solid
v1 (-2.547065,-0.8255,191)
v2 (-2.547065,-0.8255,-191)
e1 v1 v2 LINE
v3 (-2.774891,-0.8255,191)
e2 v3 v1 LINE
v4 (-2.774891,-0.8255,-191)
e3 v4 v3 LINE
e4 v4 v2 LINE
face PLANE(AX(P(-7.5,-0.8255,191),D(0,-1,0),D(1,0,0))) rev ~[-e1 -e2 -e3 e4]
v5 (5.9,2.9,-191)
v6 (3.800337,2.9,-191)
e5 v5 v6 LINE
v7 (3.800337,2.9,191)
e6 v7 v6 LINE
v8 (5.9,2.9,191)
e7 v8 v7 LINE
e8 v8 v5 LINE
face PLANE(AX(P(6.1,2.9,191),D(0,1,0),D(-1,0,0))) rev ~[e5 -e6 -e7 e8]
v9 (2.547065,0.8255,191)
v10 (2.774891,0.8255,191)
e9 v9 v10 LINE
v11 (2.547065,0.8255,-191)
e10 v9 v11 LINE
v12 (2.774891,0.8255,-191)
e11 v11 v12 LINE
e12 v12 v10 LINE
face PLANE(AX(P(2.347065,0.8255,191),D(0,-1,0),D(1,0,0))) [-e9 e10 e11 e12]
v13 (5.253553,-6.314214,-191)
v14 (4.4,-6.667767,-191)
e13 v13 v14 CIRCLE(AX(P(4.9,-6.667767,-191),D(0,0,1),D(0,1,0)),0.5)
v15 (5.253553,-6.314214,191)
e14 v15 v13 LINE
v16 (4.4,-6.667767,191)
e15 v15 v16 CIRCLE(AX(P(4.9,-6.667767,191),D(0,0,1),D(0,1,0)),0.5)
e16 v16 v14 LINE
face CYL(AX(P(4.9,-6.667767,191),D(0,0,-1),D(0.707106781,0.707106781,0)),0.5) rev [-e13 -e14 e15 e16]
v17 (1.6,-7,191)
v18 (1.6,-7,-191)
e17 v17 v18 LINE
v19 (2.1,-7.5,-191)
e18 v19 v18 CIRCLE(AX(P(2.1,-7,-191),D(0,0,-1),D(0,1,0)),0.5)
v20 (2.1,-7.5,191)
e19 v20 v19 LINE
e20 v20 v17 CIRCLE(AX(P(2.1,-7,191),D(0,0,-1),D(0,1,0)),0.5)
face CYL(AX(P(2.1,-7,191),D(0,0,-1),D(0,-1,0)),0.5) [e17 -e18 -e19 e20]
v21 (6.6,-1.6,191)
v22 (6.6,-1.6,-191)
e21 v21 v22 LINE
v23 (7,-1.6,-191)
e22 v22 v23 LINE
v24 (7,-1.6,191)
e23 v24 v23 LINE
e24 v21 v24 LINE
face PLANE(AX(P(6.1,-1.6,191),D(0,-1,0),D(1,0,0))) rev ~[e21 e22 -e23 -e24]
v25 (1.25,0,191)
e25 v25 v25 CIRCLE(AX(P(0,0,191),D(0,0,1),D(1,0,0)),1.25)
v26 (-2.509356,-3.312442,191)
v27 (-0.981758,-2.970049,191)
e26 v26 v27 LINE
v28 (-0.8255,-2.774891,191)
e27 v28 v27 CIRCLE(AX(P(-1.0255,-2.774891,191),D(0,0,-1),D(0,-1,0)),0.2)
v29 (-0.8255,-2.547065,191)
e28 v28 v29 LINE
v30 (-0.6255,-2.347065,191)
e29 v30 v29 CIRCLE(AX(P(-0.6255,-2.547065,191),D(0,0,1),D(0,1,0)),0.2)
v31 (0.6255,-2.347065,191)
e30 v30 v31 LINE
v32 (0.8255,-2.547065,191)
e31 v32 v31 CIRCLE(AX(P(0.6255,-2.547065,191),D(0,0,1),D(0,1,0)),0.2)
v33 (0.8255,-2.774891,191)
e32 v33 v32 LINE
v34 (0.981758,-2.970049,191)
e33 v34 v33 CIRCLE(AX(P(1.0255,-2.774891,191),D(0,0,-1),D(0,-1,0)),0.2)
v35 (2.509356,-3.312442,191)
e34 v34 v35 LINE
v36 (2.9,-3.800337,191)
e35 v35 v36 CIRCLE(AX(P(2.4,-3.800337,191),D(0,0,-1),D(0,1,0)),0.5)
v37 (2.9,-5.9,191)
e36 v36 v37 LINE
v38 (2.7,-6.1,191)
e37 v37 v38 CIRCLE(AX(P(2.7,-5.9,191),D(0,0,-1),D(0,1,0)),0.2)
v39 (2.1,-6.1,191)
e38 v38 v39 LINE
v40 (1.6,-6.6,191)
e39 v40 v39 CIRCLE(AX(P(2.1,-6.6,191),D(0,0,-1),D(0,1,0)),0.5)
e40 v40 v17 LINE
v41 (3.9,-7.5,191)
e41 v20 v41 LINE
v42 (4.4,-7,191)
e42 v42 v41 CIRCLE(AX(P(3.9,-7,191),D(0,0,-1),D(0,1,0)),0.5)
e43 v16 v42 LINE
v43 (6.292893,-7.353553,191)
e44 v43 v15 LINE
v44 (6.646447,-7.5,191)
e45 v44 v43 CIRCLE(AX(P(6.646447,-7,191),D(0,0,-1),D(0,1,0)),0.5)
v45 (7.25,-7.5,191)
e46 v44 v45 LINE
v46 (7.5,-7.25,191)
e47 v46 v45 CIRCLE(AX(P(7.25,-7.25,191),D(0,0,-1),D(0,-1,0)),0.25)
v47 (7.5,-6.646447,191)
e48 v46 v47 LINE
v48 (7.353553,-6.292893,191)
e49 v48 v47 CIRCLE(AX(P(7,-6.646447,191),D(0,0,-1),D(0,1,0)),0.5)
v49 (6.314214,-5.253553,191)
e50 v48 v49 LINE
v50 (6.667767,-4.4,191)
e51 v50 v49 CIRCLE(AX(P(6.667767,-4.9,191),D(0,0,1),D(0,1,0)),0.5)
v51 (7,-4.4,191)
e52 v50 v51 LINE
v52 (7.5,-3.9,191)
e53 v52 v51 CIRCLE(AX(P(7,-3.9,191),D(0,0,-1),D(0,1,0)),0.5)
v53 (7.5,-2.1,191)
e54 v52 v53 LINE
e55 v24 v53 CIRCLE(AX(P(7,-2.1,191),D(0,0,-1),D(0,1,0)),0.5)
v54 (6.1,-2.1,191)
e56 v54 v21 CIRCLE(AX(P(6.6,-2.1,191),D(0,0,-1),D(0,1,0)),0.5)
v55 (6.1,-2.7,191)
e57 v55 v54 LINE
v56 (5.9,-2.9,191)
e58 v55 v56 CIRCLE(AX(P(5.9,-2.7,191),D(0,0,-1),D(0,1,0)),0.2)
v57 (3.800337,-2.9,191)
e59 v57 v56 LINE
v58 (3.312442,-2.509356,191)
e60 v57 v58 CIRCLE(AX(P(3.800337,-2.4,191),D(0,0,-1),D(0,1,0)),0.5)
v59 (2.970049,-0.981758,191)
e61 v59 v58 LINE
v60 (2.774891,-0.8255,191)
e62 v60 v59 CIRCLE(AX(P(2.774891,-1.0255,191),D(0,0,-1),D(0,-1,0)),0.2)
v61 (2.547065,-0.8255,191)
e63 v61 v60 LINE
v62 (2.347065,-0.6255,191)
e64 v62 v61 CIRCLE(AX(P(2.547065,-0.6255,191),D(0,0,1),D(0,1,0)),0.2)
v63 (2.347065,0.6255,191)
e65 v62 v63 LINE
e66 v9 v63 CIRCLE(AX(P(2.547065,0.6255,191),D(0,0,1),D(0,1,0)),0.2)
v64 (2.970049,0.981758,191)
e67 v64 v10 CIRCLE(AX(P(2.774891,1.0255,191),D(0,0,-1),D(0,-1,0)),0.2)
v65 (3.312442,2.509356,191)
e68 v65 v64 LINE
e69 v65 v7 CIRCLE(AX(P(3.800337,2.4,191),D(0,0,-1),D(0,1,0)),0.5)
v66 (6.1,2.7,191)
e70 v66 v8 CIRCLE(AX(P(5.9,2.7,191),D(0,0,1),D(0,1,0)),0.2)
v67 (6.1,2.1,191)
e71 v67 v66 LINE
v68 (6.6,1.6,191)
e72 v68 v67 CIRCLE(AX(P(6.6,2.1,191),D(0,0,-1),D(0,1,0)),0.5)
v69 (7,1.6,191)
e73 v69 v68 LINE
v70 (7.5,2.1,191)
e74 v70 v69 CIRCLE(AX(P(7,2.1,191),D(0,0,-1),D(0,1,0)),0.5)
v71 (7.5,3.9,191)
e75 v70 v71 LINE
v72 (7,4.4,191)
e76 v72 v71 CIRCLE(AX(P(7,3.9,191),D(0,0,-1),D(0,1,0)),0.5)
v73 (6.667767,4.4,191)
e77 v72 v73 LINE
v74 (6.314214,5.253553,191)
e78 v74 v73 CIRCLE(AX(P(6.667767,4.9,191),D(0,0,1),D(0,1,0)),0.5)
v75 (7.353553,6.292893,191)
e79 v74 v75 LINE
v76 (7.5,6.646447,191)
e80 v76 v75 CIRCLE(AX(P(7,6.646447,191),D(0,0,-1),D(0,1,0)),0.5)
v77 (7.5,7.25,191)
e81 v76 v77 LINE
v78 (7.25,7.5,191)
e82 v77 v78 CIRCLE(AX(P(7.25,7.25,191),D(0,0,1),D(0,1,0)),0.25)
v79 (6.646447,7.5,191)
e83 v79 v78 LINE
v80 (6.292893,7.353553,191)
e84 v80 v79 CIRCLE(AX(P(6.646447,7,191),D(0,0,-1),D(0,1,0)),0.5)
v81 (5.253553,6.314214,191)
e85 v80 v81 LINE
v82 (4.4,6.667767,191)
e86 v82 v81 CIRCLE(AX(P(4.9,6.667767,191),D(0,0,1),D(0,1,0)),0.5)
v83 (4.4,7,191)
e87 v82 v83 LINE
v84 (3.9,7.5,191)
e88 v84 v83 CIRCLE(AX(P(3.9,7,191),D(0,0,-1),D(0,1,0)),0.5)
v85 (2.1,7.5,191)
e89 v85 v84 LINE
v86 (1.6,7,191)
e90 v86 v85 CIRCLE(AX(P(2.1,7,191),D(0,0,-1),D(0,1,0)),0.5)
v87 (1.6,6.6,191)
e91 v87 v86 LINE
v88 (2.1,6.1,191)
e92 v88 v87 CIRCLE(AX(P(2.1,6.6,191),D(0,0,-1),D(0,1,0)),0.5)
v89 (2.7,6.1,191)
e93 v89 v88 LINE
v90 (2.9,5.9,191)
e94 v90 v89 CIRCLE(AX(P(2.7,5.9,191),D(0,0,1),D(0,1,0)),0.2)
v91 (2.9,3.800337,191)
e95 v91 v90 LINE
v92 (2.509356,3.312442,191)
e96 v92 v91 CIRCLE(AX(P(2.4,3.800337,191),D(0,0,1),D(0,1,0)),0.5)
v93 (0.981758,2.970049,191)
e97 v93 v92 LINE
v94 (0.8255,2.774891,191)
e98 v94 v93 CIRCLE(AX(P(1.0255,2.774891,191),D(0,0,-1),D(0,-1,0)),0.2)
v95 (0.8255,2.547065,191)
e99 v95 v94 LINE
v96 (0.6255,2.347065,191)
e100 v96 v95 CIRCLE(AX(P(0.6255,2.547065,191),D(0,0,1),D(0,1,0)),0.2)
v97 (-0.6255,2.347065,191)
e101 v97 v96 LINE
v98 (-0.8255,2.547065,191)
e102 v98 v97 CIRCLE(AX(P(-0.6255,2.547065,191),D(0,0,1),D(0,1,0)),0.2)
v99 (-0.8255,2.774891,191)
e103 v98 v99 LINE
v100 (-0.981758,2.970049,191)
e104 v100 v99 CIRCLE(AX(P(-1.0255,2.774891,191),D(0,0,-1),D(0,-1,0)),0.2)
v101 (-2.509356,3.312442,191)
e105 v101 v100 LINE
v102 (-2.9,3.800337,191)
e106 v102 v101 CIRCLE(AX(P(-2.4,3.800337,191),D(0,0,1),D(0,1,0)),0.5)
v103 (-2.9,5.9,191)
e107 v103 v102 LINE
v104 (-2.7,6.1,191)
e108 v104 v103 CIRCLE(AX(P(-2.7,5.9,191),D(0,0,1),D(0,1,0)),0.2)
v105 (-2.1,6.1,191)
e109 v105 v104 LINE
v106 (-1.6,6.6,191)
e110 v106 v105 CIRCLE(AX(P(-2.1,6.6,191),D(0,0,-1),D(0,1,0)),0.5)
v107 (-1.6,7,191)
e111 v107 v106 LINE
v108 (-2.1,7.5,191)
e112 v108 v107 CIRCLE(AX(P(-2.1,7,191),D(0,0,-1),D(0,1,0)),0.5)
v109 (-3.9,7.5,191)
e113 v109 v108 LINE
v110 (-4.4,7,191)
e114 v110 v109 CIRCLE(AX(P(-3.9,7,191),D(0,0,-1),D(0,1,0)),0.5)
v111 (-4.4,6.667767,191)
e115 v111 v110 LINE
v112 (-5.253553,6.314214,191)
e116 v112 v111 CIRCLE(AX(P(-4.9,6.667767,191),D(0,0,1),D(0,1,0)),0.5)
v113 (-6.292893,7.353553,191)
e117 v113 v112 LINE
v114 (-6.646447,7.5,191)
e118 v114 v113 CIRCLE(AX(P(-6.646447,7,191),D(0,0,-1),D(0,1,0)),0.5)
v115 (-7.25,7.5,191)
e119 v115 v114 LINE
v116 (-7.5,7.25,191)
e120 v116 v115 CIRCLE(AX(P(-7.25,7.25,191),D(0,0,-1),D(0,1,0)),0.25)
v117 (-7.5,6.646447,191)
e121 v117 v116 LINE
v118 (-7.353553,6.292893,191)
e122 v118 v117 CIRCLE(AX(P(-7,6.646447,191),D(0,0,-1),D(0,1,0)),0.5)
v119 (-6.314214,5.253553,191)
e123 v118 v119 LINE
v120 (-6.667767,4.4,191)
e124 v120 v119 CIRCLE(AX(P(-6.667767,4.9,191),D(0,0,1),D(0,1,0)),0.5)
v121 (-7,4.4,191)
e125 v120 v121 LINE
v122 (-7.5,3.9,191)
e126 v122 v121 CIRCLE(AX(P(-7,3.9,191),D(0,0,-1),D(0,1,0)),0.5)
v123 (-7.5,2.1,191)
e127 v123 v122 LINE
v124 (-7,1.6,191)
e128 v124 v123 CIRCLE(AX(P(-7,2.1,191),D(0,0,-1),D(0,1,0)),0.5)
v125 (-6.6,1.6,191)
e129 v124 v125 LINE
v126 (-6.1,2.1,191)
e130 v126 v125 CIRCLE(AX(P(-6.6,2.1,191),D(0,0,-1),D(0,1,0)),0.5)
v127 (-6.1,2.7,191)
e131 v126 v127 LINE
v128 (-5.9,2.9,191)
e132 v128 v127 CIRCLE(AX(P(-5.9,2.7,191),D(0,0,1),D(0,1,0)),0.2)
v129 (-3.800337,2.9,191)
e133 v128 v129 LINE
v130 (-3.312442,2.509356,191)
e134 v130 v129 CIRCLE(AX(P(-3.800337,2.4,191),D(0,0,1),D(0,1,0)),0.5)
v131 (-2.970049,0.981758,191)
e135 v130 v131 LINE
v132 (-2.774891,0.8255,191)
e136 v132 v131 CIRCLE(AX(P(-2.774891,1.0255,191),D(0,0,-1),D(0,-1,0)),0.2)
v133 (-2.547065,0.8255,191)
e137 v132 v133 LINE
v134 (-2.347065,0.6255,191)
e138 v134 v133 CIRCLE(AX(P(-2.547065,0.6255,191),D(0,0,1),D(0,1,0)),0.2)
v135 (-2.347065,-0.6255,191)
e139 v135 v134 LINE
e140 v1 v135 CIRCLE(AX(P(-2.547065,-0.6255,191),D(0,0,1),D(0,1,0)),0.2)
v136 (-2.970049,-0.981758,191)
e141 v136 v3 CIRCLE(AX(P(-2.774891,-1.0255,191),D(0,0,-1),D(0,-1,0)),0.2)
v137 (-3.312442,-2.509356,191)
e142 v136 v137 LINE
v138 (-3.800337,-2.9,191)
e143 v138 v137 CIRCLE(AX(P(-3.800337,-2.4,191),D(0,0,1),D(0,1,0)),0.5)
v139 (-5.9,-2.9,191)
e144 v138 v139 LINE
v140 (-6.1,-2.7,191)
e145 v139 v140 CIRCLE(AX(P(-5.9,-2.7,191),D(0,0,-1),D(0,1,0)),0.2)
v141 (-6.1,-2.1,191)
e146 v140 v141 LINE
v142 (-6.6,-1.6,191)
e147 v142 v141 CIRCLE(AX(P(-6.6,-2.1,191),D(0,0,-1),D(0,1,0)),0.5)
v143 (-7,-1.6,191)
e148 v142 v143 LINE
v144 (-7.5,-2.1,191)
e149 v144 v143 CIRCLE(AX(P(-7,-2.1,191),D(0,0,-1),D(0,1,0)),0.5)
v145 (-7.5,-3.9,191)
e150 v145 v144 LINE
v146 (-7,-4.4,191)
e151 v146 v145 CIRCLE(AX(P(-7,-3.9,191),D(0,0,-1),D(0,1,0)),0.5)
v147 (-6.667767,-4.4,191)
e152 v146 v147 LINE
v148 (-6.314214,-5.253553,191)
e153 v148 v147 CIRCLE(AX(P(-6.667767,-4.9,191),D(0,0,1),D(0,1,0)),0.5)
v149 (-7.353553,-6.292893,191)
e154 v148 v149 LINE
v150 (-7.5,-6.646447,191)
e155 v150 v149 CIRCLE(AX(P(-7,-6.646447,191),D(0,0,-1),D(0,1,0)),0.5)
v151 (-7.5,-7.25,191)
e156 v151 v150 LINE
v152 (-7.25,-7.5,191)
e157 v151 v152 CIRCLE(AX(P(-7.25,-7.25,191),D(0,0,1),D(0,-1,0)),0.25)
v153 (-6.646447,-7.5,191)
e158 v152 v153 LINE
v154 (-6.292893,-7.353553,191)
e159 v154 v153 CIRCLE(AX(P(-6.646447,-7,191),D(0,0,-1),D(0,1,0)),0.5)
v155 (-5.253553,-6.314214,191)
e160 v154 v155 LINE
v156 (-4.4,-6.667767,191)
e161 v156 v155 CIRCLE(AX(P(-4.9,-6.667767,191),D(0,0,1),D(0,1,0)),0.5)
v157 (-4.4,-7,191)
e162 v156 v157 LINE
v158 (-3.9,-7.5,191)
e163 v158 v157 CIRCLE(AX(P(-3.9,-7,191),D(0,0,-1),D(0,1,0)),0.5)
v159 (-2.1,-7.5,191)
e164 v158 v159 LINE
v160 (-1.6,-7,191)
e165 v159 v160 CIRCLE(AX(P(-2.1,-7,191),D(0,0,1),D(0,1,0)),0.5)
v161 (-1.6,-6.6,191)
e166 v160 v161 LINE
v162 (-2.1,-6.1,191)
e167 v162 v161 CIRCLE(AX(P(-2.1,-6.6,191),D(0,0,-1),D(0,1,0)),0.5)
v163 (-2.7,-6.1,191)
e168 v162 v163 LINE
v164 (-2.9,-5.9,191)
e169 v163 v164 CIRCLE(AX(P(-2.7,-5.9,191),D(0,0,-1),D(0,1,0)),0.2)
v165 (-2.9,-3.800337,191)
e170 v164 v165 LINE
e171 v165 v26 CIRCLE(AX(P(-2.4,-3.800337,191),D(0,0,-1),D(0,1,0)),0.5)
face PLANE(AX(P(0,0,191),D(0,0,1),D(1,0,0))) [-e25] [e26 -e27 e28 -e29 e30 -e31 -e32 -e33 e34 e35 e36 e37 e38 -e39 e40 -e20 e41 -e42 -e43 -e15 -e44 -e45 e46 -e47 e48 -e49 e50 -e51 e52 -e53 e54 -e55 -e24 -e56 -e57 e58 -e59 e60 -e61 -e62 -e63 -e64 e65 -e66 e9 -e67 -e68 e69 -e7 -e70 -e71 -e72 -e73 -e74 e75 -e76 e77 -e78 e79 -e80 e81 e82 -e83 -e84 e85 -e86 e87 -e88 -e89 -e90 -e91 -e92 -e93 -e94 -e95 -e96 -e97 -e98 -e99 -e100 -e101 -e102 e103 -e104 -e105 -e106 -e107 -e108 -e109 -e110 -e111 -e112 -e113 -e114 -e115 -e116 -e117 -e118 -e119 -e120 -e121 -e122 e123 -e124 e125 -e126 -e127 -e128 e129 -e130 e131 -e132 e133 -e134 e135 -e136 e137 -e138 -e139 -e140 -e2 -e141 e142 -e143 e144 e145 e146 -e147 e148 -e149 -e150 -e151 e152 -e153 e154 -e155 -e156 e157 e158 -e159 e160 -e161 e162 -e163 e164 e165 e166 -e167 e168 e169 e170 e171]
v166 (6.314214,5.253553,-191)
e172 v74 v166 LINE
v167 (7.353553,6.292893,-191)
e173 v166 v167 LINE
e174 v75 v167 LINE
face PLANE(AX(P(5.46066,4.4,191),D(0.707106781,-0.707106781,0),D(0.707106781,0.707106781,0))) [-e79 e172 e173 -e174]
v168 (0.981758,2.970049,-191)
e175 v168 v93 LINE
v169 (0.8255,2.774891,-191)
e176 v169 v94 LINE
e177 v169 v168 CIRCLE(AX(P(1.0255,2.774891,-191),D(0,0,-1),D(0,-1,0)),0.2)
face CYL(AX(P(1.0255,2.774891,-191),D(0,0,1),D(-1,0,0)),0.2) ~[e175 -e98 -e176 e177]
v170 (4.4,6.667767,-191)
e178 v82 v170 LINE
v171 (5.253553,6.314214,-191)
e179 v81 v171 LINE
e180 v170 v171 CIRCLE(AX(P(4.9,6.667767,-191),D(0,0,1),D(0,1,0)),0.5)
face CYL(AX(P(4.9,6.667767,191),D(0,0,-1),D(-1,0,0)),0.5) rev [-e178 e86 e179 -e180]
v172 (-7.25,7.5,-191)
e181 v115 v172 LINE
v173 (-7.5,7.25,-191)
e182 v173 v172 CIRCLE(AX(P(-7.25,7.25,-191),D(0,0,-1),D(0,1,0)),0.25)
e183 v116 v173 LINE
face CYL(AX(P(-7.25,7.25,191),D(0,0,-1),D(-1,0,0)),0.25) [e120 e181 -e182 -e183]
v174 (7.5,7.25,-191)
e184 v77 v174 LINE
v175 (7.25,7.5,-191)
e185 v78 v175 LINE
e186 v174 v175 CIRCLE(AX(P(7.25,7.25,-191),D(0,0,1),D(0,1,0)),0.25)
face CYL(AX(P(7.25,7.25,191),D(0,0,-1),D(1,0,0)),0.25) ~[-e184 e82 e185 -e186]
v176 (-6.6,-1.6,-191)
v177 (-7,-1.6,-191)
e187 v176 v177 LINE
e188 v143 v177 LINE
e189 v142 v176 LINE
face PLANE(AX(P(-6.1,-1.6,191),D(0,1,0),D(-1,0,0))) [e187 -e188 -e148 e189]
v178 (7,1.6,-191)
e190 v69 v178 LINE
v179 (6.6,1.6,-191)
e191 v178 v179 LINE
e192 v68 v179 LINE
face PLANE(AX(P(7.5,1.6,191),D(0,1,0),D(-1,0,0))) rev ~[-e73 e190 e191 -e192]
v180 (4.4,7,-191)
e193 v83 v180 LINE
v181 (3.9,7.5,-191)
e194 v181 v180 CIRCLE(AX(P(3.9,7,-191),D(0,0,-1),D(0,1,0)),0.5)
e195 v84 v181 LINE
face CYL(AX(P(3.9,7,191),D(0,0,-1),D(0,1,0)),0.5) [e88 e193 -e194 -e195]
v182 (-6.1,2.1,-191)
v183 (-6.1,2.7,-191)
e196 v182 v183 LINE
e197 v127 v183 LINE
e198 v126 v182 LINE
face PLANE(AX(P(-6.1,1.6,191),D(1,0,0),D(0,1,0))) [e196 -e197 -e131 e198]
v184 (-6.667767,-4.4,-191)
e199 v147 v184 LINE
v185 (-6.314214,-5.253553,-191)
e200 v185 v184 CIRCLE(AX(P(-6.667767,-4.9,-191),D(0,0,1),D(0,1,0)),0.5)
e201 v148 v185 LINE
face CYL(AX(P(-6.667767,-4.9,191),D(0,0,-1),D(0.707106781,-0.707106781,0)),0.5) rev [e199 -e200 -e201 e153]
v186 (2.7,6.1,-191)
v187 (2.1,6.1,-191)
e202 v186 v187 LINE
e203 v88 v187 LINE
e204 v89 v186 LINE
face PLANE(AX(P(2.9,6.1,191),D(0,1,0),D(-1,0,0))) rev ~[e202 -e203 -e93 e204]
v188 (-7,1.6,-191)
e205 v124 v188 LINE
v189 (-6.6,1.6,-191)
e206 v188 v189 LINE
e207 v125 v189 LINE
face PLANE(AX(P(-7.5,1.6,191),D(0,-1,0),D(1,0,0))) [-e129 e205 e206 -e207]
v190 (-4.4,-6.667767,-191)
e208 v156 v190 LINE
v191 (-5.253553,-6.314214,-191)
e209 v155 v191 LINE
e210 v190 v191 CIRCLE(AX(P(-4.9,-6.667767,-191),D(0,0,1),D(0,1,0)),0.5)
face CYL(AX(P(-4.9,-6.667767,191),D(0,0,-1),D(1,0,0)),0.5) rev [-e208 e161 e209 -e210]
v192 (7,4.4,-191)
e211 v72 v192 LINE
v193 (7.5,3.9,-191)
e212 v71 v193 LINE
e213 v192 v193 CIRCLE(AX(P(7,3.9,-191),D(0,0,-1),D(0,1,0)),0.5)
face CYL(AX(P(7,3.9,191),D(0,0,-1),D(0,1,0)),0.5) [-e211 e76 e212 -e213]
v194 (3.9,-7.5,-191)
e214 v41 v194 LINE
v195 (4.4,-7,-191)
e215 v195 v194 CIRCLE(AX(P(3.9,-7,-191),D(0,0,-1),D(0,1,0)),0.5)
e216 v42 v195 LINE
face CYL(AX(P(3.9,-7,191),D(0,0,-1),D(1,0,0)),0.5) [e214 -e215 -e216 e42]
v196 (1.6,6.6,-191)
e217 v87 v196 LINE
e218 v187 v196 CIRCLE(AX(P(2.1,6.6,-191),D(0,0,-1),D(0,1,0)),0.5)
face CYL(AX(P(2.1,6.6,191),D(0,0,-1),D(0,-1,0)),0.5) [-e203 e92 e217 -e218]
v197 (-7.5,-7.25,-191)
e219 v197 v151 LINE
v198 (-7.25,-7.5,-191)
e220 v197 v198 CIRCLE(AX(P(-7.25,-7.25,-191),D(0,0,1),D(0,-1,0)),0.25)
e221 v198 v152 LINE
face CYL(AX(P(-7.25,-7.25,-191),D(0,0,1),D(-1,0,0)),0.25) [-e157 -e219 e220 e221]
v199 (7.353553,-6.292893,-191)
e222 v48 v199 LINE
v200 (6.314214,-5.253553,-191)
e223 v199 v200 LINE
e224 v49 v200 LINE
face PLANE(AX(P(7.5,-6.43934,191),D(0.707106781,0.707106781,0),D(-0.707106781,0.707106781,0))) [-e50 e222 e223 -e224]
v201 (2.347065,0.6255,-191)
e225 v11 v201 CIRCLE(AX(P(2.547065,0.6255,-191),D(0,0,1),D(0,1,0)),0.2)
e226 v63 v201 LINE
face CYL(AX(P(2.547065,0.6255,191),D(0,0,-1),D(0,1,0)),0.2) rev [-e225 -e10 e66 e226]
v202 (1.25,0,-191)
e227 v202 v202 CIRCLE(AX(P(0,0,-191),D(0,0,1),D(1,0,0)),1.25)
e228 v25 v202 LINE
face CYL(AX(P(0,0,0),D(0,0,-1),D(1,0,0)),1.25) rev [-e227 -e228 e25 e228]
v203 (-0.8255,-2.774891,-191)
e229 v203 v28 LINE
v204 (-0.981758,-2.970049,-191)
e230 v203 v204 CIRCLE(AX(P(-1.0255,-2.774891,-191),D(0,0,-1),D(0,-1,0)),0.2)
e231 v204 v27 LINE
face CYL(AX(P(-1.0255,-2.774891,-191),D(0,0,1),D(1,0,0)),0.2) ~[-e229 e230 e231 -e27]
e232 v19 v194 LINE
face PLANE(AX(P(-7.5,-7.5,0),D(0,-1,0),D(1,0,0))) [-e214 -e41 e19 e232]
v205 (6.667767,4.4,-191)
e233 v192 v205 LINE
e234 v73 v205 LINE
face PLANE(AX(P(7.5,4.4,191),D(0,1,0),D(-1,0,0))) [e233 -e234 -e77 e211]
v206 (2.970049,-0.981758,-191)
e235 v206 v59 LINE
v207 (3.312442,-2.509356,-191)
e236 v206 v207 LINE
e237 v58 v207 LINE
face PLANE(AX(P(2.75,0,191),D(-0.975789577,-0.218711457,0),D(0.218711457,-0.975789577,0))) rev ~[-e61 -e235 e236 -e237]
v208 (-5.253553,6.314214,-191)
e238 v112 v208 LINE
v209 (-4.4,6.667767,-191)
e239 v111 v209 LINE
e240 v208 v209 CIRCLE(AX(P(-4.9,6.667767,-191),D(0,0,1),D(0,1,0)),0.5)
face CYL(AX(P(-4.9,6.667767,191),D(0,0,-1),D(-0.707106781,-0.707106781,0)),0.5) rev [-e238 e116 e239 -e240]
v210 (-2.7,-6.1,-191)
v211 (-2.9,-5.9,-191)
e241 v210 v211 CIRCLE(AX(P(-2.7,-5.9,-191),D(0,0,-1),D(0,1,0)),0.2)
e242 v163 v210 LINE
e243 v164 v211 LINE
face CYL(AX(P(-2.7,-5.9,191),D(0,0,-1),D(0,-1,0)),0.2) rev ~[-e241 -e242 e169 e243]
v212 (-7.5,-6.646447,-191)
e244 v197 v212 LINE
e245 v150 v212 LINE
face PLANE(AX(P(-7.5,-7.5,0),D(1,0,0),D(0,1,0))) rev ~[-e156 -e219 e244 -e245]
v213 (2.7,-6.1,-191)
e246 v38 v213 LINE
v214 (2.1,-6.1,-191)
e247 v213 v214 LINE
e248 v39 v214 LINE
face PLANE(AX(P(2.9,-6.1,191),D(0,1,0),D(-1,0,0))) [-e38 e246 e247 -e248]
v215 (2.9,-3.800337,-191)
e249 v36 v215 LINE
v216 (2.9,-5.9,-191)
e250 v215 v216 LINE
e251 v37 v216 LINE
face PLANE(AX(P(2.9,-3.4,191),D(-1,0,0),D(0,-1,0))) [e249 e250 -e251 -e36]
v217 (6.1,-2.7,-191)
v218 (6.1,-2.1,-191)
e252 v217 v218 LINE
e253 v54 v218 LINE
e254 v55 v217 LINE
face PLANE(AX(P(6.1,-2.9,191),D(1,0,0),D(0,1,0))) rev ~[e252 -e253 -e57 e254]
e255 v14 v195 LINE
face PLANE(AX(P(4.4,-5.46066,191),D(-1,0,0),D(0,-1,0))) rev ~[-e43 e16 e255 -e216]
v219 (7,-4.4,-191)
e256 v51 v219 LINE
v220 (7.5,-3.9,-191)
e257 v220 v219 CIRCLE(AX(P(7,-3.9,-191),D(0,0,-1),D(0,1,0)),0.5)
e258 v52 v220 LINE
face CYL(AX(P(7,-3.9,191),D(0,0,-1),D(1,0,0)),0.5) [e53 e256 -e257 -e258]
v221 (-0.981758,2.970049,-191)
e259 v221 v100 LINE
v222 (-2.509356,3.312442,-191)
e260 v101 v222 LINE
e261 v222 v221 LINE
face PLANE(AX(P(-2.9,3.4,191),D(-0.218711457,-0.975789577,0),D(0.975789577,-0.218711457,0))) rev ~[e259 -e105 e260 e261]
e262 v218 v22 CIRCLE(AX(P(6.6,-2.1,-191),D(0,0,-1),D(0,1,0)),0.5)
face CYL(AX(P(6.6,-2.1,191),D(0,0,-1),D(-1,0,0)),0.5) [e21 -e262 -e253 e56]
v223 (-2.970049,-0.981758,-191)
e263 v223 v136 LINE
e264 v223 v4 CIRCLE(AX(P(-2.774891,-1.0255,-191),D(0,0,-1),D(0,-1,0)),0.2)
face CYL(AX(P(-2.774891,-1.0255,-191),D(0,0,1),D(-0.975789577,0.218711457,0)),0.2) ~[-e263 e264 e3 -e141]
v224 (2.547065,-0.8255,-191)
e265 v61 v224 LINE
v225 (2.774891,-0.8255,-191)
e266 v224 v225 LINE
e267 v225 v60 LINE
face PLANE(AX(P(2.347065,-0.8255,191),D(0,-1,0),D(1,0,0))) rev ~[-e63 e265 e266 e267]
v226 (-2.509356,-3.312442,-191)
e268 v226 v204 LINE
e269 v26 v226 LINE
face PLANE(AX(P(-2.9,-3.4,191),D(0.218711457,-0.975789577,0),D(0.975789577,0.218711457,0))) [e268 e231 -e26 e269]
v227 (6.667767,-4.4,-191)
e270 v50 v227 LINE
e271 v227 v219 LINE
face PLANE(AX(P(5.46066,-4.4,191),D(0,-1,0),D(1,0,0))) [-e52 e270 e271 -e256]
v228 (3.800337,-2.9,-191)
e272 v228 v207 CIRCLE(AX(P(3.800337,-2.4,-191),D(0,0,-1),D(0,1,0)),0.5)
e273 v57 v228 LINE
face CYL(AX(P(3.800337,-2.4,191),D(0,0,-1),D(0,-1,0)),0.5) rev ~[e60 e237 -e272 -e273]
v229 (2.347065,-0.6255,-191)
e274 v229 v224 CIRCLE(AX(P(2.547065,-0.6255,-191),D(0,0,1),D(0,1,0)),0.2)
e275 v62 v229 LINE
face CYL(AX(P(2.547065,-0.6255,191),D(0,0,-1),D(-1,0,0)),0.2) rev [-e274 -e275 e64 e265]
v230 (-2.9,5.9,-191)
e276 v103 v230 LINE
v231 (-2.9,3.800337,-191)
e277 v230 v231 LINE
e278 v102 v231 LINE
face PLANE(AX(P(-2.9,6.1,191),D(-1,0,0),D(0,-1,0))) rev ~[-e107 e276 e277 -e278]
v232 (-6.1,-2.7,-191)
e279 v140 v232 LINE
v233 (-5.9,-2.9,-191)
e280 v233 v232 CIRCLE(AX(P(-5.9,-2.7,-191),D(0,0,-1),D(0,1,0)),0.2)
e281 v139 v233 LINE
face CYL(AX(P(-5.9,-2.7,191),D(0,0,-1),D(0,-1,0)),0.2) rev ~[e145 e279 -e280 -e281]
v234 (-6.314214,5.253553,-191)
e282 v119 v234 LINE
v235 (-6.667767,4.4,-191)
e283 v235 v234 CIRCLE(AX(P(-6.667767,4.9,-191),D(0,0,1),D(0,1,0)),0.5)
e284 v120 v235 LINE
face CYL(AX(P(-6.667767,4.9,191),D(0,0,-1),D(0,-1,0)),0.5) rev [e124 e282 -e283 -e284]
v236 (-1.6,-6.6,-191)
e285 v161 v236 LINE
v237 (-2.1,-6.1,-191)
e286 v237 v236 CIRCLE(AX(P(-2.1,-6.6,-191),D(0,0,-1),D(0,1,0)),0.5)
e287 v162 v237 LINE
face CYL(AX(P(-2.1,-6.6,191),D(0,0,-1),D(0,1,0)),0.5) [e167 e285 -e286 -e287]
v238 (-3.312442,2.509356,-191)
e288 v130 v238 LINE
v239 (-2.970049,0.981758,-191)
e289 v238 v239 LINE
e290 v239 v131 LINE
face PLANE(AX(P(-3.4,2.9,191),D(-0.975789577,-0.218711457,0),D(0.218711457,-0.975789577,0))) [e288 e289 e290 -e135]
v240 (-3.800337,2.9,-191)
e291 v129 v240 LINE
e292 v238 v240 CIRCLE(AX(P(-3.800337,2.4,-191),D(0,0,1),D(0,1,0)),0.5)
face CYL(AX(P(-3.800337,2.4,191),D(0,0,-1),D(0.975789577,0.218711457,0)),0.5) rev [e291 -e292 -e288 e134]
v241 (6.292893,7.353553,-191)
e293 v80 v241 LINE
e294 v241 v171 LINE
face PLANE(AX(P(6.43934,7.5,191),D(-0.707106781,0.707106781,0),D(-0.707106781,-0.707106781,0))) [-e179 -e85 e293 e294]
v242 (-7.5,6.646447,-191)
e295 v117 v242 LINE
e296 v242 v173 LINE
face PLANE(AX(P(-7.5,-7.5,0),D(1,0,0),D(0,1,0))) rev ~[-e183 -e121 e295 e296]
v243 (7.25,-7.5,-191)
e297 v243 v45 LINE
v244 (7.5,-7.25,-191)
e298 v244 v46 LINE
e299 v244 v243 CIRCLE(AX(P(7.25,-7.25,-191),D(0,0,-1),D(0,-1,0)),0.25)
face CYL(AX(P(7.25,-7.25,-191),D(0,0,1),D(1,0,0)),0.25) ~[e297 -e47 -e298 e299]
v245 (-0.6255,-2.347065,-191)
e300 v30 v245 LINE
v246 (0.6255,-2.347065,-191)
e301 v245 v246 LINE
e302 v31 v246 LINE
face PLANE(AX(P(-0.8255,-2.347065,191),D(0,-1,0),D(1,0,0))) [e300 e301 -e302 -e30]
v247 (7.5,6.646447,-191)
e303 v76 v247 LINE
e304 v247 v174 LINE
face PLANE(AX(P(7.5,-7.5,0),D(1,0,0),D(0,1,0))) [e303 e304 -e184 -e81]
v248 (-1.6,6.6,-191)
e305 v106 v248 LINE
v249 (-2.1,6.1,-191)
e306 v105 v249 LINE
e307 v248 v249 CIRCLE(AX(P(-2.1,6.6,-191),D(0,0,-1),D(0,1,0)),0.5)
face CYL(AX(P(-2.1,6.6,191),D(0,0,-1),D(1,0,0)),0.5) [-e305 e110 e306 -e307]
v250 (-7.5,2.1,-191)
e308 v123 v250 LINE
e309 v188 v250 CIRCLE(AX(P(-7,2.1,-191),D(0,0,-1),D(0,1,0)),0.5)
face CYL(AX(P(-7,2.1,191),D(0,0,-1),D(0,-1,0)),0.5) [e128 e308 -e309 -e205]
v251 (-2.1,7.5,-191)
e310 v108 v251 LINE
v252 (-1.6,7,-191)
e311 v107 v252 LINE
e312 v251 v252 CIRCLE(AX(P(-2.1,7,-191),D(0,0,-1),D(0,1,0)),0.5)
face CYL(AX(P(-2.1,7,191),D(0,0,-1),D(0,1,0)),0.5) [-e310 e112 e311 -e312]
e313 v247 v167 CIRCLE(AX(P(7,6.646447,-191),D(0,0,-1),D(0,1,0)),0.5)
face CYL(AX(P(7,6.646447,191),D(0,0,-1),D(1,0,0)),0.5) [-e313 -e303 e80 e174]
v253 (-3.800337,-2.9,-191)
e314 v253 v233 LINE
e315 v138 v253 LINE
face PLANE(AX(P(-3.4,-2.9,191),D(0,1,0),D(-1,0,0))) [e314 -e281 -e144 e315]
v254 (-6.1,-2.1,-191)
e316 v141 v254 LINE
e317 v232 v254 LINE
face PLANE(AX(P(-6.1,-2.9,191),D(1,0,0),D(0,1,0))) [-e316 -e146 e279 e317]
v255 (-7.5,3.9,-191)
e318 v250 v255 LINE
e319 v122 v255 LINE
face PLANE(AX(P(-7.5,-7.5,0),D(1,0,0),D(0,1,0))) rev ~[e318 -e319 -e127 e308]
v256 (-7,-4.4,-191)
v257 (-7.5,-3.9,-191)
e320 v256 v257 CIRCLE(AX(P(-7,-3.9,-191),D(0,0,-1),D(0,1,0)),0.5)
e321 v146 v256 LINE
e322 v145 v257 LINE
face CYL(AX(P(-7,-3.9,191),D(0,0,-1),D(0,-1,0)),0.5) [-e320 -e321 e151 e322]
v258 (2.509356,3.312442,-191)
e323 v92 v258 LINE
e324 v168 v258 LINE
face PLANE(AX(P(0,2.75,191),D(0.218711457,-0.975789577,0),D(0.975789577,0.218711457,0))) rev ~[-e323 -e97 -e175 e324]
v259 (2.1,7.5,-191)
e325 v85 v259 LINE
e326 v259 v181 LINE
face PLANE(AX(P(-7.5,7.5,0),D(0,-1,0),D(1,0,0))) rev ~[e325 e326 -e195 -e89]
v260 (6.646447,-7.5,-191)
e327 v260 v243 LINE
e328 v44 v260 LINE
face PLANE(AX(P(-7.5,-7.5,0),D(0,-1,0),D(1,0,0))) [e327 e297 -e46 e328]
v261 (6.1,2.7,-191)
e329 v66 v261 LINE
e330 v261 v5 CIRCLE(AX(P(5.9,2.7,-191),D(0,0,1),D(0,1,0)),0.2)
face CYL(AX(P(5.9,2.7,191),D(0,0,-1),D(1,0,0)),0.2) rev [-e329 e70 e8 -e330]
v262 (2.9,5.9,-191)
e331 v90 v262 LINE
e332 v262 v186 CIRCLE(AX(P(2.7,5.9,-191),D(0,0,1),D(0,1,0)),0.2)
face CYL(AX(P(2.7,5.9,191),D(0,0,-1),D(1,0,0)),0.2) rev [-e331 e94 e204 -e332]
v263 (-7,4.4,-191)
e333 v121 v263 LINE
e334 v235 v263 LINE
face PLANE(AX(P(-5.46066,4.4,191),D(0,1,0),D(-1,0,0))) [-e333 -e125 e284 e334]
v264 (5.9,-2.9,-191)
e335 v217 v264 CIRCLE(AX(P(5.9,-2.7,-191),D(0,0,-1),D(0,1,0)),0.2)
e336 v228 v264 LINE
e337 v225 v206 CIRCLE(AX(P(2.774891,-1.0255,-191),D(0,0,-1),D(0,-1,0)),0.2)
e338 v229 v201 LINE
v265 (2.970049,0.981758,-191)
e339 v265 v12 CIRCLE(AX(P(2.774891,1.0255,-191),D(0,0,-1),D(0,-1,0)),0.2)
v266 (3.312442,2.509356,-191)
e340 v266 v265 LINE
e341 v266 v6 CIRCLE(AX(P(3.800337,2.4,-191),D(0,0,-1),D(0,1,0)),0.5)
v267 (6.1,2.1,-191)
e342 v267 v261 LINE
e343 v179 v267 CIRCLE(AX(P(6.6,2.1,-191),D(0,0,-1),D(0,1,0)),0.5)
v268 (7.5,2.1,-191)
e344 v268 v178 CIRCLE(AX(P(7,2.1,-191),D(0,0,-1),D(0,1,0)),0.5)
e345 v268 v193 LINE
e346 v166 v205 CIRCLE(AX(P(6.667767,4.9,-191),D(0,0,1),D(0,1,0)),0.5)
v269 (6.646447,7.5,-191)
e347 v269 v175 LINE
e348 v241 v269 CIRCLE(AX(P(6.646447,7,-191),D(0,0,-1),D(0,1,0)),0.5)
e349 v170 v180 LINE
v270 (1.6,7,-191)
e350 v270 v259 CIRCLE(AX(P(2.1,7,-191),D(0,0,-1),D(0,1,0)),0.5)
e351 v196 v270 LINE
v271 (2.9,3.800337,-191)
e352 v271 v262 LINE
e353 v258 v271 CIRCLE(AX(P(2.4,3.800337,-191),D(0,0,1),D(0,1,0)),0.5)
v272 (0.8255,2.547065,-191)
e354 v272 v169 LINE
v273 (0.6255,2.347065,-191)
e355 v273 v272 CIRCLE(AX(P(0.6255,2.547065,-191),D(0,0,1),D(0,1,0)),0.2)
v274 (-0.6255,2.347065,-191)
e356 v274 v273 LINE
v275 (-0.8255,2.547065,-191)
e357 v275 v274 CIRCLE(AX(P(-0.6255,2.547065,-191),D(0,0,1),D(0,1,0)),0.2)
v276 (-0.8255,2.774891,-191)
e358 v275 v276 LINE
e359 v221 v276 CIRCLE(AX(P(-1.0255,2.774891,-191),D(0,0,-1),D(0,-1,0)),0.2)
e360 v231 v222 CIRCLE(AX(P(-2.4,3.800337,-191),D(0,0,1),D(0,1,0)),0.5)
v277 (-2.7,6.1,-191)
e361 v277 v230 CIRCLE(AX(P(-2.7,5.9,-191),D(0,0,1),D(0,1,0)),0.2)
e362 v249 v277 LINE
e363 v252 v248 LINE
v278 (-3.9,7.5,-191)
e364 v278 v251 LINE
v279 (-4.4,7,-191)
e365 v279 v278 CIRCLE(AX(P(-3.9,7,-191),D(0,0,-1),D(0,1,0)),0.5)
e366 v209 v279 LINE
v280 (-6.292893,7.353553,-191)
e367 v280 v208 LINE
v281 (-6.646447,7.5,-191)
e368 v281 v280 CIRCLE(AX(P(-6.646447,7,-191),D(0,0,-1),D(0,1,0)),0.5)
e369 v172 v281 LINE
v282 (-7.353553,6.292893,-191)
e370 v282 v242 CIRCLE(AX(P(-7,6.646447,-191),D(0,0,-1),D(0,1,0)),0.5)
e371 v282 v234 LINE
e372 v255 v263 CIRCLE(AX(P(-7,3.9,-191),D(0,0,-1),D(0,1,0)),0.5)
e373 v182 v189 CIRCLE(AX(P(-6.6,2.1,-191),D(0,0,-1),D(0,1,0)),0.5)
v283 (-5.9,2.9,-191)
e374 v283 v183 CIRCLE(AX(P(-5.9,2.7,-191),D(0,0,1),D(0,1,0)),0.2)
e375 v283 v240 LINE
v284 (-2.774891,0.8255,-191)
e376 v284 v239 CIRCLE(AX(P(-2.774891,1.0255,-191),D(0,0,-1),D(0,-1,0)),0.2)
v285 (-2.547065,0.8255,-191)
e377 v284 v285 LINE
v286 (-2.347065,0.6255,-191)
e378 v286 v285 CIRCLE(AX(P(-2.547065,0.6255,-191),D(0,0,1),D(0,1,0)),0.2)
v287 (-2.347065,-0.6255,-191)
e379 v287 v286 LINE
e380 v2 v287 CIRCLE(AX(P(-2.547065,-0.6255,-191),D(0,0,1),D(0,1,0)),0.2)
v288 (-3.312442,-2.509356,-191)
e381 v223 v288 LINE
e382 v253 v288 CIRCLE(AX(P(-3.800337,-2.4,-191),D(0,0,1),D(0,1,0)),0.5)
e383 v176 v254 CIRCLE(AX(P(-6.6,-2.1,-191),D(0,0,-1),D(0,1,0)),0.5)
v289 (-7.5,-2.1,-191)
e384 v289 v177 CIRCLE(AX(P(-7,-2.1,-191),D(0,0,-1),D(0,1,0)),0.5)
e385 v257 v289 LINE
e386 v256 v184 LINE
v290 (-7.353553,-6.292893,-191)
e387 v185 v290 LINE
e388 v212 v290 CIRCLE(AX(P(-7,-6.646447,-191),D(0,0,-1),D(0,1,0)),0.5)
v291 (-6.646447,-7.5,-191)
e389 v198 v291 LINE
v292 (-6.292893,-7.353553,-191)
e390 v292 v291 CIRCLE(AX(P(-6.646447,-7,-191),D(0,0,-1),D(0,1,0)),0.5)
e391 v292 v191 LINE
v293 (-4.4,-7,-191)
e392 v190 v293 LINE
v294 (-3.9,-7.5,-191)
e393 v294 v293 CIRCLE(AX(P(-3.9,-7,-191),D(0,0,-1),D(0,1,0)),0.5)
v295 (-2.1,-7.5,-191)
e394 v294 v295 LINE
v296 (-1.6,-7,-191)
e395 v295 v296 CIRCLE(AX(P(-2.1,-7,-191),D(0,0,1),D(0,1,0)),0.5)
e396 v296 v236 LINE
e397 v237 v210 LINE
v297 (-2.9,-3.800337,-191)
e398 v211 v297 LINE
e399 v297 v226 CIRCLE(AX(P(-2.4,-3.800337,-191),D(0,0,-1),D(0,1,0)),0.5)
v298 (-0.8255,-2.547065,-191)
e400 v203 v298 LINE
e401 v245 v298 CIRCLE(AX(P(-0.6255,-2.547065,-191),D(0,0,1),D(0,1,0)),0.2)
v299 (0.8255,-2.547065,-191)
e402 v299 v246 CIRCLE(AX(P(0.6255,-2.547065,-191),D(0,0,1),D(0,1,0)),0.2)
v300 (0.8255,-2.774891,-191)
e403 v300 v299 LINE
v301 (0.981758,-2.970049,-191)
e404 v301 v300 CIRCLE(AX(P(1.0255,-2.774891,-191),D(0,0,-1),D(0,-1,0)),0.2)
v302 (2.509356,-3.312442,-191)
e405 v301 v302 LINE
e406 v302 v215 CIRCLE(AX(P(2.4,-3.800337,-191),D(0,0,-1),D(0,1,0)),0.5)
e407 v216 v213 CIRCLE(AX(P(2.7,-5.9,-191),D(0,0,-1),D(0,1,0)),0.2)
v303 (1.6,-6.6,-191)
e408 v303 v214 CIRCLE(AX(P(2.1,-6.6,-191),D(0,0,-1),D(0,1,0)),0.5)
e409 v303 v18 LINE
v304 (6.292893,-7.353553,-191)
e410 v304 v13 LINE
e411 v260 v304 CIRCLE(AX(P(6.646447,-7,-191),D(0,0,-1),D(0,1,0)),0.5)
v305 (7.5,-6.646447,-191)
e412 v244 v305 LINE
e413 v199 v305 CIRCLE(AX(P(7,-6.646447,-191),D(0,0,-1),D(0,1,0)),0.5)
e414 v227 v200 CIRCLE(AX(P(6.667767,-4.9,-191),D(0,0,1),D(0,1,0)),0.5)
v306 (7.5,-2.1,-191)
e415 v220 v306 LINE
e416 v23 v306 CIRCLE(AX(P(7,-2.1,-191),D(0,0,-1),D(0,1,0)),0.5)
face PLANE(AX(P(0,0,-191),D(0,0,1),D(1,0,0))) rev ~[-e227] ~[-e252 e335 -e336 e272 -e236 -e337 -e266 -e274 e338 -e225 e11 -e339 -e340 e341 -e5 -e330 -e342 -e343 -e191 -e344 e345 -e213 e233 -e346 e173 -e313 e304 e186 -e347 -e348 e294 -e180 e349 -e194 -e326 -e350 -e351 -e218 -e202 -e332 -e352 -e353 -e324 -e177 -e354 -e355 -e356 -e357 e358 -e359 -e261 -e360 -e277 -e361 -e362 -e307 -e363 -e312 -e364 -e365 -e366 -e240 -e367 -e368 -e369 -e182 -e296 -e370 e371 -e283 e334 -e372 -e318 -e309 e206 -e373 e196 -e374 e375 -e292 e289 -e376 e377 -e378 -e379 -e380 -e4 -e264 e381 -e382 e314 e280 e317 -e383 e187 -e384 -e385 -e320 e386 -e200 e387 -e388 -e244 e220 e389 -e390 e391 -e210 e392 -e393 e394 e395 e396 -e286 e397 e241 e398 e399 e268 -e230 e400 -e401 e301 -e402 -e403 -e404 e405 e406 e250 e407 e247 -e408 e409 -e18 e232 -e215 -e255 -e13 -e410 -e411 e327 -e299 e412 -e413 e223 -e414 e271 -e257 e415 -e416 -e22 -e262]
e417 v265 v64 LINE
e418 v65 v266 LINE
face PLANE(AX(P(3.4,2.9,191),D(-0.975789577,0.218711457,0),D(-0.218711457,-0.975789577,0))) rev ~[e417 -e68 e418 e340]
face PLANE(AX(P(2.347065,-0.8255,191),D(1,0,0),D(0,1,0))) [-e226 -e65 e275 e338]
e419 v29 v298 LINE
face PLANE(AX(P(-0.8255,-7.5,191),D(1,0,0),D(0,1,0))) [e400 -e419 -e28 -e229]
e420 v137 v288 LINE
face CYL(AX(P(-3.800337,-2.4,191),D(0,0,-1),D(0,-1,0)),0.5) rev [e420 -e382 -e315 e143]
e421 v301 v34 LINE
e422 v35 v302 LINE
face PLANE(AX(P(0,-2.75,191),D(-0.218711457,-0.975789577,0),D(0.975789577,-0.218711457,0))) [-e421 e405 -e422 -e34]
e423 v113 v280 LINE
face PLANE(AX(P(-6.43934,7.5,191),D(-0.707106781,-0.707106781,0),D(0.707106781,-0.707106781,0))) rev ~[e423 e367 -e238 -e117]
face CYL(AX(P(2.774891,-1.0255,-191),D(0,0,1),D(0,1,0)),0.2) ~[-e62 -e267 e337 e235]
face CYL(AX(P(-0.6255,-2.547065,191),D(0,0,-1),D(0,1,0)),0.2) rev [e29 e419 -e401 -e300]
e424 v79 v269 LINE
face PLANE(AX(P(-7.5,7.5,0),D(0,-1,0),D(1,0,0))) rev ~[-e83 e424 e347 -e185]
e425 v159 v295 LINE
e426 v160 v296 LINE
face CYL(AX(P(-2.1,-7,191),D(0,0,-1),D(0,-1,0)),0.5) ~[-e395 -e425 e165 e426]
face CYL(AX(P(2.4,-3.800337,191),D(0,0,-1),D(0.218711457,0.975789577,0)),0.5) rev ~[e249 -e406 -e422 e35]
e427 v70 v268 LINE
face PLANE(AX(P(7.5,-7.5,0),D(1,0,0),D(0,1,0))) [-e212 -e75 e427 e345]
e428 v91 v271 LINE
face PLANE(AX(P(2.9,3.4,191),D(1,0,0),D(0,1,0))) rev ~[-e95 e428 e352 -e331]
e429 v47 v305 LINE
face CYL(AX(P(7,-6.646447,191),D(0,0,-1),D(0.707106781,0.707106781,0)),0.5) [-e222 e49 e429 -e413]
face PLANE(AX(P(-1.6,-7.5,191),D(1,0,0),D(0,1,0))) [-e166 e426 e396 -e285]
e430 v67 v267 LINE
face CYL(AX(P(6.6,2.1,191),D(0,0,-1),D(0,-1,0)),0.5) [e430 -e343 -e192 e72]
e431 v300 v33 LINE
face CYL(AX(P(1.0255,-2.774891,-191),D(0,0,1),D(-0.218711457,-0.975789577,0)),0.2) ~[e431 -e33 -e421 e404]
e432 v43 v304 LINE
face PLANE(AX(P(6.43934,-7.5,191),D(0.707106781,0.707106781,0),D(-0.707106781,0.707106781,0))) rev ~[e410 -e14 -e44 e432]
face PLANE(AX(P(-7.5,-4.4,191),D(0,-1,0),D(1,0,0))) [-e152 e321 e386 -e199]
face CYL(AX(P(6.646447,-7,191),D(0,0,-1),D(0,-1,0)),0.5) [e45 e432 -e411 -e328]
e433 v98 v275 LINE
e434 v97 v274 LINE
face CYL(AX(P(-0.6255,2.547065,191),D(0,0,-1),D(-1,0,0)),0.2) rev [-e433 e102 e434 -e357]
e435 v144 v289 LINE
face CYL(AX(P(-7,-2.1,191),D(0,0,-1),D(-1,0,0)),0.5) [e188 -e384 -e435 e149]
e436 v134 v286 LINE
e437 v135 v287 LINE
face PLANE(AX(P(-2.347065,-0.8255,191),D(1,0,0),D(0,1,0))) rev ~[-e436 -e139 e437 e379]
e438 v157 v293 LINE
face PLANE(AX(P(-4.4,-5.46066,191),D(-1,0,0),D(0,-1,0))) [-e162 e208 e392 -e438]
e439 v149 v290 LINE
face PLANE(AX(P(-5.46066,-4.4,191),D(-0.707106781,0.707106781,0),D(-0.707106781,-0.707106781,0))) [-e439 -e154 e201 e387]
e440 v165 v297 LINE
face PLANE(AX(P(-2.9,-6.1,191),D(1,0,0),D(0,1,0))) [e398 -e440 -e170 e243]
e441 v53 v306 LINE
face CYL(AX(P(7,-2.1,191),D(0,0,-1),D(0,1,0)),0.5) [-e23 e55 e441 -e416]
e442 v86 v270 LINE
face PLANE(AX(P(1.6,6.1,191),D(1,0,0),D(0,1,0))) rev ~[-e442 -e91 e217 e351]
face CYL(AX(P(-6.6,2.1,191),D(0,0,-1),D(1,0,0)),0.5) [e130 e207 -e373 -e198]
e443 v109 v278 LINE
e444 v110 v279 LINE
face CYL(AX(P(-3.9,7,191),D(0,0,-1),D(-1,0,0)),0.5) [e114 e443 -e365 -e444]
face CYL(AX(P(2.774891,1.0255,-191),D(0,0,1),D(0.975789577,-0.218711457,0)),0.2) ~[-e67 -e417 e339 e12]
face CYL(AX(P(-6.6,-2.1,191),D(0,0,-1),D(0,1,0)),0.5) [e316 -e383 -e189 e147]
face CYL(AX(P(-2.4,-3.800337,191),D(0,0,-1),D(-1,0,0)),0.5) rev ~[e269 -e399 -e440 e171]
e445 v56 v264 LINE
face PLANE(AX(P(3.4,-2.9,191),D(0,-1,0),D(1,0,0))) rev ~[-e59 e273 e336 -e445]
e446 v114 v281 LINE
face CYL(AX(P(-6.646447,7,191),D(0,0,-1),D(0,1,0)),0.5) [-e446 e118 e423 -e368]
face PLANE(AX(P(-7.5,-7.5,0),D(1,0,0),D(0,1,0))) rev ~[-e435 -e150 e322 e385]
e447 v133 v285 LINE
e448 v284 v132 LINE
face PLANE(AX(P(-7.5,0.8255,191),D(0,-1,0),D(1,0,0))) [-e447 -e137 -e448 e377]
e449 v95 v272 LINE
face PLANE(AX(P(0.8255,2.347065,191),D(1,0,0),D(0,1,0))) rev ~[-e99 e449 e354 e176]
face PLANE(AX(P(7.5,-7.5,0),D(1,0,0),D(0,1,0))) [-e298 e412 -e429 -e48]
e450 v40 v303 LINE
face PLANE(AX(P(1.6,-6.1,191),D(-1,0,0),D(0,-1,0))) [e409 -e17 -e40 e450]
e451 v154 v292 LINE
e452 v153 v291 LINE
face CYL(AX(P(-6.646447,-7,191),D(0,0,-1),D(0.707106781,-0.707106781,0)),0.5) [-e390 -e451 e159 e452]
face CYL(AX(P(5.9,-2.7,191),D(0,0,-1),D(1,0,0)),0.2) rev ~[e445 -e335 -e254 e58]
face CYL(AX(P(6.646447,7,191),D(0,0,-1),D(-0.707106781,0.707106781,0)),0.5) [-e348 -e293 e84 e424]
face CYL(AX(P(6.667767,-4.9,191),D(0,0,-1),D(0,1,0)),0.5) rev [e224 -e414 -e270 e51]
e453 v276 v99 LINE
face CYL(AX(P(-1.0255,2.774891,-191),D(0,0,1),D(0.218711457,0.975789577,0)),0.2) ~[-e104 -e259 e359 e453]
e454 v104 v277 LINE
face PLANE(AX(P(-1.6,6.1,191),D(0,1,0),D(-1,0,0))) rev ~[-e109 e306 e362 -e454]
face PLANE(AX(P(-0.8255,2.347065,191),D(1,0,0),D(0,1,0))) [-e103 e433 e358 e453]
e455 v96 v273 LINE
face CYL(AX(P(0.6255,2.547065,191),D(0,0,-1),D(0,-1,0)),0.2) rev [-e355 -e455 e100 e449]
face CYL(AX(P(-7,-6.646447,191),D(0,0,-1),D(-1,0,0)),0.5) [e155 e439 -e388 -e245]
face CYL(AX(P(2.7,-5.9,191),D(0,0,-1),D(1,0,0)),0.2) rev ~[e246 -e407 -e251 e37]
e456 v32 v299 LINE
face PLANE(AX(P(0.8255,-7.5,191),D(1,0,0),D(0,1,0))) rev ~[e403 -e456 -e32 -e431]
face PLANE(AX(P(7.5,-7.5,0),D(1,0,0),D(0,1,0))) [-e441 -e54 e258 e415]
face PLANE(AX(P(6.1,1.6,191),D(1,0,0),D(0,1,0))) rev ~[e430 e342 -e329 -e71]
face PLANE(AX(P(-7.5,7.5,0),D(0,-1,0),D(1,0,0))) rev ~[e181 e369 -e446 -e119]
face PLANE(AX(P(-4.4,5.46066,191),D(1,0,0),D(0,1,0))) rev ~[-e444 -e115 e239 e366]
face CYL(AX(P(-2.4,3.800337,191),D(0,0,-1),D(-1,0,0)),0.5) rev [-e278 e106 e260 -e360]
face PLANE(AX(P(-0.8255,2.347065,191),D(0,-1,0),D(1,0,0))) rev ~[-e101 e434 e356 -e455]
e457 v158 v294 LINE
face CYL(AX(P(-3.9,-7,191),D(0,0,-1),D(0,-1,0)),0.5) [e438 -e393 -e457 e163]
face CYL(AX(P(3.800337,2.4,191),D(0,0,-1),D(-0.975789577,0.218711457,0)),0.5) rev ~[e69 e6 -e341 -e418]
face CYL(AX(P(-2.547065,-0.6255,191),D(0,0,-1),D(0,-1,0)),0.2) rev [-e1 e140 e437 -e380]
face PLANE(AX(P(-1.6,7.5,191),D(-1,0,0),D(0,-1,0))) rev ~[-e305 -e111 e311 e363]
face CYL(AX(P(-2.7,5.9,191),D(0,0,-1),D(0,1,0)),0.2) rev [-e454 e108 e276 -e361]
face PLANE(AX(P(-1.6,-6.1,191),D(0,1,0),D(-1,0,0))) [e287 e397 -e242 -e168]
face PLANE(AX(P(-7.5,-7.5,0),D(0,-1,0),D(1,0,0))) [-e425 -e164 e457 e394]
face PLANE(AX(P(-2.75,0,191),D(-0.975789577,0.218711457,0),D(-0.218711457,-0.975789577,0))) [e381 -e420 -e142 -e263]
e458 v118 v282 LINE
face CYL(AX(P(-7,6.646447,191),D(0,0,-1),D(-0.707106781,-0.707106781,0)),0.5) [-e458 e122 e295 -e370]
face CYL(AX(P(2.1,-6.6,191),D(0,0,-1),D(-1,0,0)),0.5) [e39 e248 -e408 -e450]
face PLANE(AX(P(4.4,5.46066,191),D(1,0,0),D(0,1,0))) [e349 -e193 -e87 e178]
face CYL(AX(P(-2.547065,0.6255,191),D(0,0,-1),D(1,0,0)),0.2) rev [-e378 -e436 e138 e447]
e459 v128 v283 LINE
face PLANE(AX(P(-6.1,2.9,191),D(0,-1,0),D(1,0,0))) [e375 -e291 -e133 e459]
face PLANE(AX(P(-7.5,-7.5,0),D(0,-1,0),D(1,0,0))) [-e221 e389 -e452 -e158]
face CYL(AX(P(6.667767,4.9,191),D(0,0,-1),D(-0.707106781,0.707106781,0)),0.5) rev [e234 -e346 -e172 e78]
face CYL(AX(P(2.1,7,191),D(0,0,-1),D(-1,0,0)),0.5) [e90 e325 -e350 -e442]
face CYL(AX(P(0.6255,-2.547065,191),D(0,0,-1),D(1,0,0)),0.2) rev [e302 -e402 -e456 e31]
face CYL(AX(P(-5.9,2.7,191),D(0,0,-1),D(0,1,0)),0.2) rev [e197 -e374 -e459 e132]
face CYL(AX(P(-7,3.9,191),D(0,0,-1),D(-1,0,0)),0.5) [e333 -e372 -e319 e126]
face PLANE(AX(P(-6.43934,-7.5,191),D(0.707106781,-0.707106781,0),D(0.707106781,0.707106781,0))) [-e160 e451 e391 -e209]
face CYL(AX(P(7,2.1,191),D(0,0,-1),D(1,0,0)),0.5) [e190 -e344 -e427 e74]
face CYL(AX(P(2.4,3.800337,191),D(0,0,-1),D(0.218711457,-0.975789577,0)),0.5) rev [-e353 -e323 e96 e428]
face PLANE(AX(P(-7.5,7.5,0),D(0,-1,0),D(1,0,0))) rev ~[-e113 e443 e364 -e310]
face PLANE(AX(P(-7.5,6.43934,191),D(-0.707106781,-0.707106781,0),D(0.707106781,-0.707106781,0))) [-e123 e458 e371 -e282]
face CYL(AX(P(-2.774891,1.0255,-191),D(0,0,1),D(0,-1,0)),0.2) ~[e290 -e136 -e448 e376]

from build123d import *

# Parameters (mm, degrees)
SKETCH1_W           = 15
SKETCH1_H           = 15
SKETCH1_R           = 1.25
BOSS_EXTRUDE1_DEPTH = 191
FILLET1_R           = 0.25
CUT_EXTRUDE1_DEPTH  = 383.147222939
CUT_EXTRUDE3_DEPTH  = 383.147222939
FILLET3_R           = 0.5
FILLET4_R           = 0.5
FILLET5_R           = 3
FILLET6_R           = 0.2
CUT_EXTRUDE4_DEPTH  = 383.147222939
FILLET8_R           = 0.5
SKETCH6_W           = 5.1529354
SKETCH6_H           = 1.651
SKETCH6_W_2         = 1.651
SKETCH6_H_2         = 5.1529354
CUT_EXTRUDE5_DEPTH  = 383.147222939
FILLET10_R          = 0.2


with BuildPart() as part:
    # Sketch1 → Boss-Extrude1 (new, symmetric)
    with BuildSketch(Plane.XY):
        Rectangle(SKETCH1_W, SKETCH1_H)
        Circle(SKETCH1_R, mode=Mode.SUBTRACT)
    extrude(amount=BOSS_EXTRUDE1_DEPTH, both=True)

    # Fillet1
    fillet1_edges = [part.edges().sort_by_distance(p)[0] for p in [
        (7.5, -7.5, 0),
        (-7.5, -7.5, 0),
        (-7.5, 7.5, 0),
        (7.5, 7.5, 0),
    ]]
    fillet(fillet1_edges, radius=FILLET1_R)

    # Sketch2 → Cut-Extrude1 (cut, through all)
    with BuildSketch(Plane.XY.offset(191)):
        Polygon((-7.5, 1.6), (-6.1, 1.6), (-6.1, 2.9), (-3.4, 2.9), (-3.4, -2.9), (-6.1, -2.9), (-6.1, -1.6), (-7.5, -1.6), align=None)
        Polygon((2.9, 6.1), (1.6, 6.1), (1.6, 7.5), (-1.6, 7.5), (-1.6, 6.1), (-2.9, 6.1), (-2.9, 3.4), (2.9, 3.4), align=None)
        Polygon((-1.6, -7.5), (-1.6, -6.1), (-2.9, -6.1), (-2.9, -3.4), (2.9, -3.4), (2.9, -6.1), (1.6, -6.1), (1.6, -7.5), align=None)
        Polygon((6.1, -2.9), (6.1, -1.6), (7.5, -1.6), (7.5, 1.6), (6.1, 1.6), (6.1, 2.9), (3.4, 2.9), (3.4, -2.9), align=None)
    extrude(amount=-CUT_EXTRUDE1_DEPTH, mode=Mode.SUBTRACT)

    # Sketch4 → Cut-Extrude3 (cut, through all)
    with BuildSketch(Plane.XY.offset(191)):
        Polygon((-3.4, 2.9), (-2.75, 0), (-3.4, -2.9), align=None)
        Polygon((-2.9, 3.4), (0, 2.75), (2.9, 3.4), align=None)
        Polygon((3.4, 2.9), (2.75, 0), (3.4, -2.9), align=None)
        Polygon((-2.9, -3.4), (0, -2.75), (2.9, -3.4), align=None)
    extrude(amount=-CUT_EXTRUDE3_DEPTH, mode=Mode.SUBTRACT)

    # Fillet3
    fillet3_edges = [part.edges().sort_by_distance(p)[0] for p in [
        (1.6, -7.5, 0),
        (-1.6, -7.5, 0),
        (-1.6, -6.1, 0),
        (1.6, -6.1, 0),
        (6.1, 1.6, 0),
        (7.5, 1.6, 0),
        (7.5, -1.6, 0),
        (6.1, -1.6, 0),
        (-7.5, -1.6, 0),
        (-7.5, 1.6, 0),
        (-6.1, 1.6, 0),
        (-6.1, -1.6, 0),
        (-1.6, 6.1, 0),
        (-1.6, 7.5, 0),
        (1.6, 7.5, 0),
        (1.6, 6.1, 0),
    ]]
    fillet(fillet3_edges, radius=FILLET3_R)

    # Fillet4
    fillet4_edges = [part.edges().sort_by_distance(p)[0] for p in [
        (-2.9, -3.4, 0),
        (2.9, -3.4, 0),
        (3.4, -2.9, 0),
        (3.4, 2.9, 0),
        (-3.4, 2.9, 0),
        (-3.4, -2.9, 0),
        (2.9, 3.4, 0),
        (-2.9, 3.4, 0),
    ]]
    fillet(fillet4_edges, radius=FILLET4_R)

    # Fillet5
    fillet5_edges = [part.edges().sort_by_distance(p)[0] for p in [
        (-2.75, 0, 0),
        (0, 2.75, 0),
        (2.75, 0, 0),
        (0, -2.75, 0),
    ]]
    fillet(fillet5_edges, radius=FILLET5_R)

    # Fillet6
    fillet6_edges = [part.edges().sort_by_distance(p)[0] for p in [
        (-2.9, -6.1, 0),
        (2.9, -6.1, 0),
        (6.1, -2.9, 0),
        (6.1, 2.9, 0),
        (-6.1, 2.9, 0),
        (-6.1, -2.9, 0),
        (2.9, 6.1, 0),
        (-2.9, 6.1, 0),
    ]]
    fillet(fillet6_edges, radius=FILLET6_R)

    # Sketch5 → Cut-Extrude4 (cut, through all)
    with BuildSketch(Plane.XY.offset(191)):
        Polygon((-7.5, 6.439339828), (-5.460660172, 4.4), (-7.5, 4.4), align=None)
        Polygon((-6.439339828, 7.5), (-4.4, 5.460660172), (-4.4, 7.5), align=None)
        Polygon((4.4, 7.5), (6.439339828, 7.5), (4.4, 5.460660172), align=None)
        Polygon((7.5, 6.439339828), (7.5, 4.4), (5.460660172, 4.4), align=None)
        Polygon((7.5, -6.439339828), (5.460660172, -4.4), (7.5, -4.4), align=None)
        Polygon((6.439339828, -7.5), (4.4, -5.460660172), (4.4, -7.5), align=None)
        Polygon((-4.4, -7.5), (-6.439339828, -7.5), (-4.4, -5.460660172), align=None)
        Polygon((-7.5, -6.439339828), (-7.5, -4.4), (-5.460660172, -4.4), align=None)
    extrude(amount=-CUT_EXTRUDE4_DEPTH, mode=Mode.SUBTRACT)

    # Fillet8
    fillet8_edges = [part.edges().sort_by_distance(p)[0] for p in [
        (-7.5, 4.4, 0),
        (-7.5, 6.439339828, 0),
        (-5.460660172, 4.4, 0),
        (7.5, -4.4, 0),
        (7.5, -6.439339828, 0),
        (5.460660172, -4.4, 0),
        (5.460660172, 4.4, 0),
        (7.5, 6.439339828, 0),
        (7.5, 4.4, 0),
        (-4.4, 7.5, 0),
        (-4.4, 5.460660172, 0),
        (-6.439339828, 7.5, 0),
        (-5.460660172, -4.4, 0),
        (-7.5, -6.439339828, 0),
        (-7.5, -4.4, 0),
        (4.4, 5.460660172, 0),
        (4.4, 7.5, 0),
        (6.439339828, 7.5, 0),
        (6.439339828, -7.5, 0),
        (4.4, -7.5, 0),
        (4.4, -5.460660172, 0),
        (-6.439339828, -7.5, 0),
        (-4.4, -5.460660172, 0),
        (-4.4, -7.5, 0),
    ]]
    fillet(fillet8_edges, radius=FILLET8_R)

    # Sketch6 → Cut-Extrude5 (cut, through all)
    with BuildSketch(Plane.XY.offset(191)):
        with Locations((4.9235323, 0)):
            Rectangle(SKETCH6_W, SKETCH6_H)
        with Locations((0, -4.9235323)):
            Rectangle(SKETCH6_W_2, SKETCH6_H_2)
        with Locations((-4.9235323, 0)):
            Rectangle(SKETCH6_W, SKETCH6_H)
        with Locations((0, 4.9235323)):
            Rectangle(SKETCH6_W_2, SKETCH6_H_2)
    extrude(amount=-CUT_EXTRUDE5_DEPTH, mode=Mode.SUBTRACT)

    # Fillet10
    fillet10_edges = [part.edges().sort_by_distance(p)[0] for p in [
        (0.8255, -2.935025862, 0),
        (-0.8255, -2.935025862, 0),
        (0.8255, -2.3470646, 0),
        (-0.8255, -2.3470646, 0),
        (2.935025862, 0.8255, 0),
        (2.935025862, -0.8255, 0),
        (2.3470646, 0.8255, 0),
        (2.3470646, -0.8255, 0),
        (-2.935025862, -0.8255, 0),
        (-2.935025862, 0.8255, 0),
        (-2.3470646, -0.8255, 0),
        (-2.3470646, 0.8255, 0),
        (-0.8255, 2.935025862, 0),
        (0.8255, 2.935025862, 0),
        (-0.8255, 2.3470646, 0),
        (0.8255, 2.3470646, 0),
    ]]
    fillet(fillet10_edges, radius=FILLET10_R)


solid = part.part
